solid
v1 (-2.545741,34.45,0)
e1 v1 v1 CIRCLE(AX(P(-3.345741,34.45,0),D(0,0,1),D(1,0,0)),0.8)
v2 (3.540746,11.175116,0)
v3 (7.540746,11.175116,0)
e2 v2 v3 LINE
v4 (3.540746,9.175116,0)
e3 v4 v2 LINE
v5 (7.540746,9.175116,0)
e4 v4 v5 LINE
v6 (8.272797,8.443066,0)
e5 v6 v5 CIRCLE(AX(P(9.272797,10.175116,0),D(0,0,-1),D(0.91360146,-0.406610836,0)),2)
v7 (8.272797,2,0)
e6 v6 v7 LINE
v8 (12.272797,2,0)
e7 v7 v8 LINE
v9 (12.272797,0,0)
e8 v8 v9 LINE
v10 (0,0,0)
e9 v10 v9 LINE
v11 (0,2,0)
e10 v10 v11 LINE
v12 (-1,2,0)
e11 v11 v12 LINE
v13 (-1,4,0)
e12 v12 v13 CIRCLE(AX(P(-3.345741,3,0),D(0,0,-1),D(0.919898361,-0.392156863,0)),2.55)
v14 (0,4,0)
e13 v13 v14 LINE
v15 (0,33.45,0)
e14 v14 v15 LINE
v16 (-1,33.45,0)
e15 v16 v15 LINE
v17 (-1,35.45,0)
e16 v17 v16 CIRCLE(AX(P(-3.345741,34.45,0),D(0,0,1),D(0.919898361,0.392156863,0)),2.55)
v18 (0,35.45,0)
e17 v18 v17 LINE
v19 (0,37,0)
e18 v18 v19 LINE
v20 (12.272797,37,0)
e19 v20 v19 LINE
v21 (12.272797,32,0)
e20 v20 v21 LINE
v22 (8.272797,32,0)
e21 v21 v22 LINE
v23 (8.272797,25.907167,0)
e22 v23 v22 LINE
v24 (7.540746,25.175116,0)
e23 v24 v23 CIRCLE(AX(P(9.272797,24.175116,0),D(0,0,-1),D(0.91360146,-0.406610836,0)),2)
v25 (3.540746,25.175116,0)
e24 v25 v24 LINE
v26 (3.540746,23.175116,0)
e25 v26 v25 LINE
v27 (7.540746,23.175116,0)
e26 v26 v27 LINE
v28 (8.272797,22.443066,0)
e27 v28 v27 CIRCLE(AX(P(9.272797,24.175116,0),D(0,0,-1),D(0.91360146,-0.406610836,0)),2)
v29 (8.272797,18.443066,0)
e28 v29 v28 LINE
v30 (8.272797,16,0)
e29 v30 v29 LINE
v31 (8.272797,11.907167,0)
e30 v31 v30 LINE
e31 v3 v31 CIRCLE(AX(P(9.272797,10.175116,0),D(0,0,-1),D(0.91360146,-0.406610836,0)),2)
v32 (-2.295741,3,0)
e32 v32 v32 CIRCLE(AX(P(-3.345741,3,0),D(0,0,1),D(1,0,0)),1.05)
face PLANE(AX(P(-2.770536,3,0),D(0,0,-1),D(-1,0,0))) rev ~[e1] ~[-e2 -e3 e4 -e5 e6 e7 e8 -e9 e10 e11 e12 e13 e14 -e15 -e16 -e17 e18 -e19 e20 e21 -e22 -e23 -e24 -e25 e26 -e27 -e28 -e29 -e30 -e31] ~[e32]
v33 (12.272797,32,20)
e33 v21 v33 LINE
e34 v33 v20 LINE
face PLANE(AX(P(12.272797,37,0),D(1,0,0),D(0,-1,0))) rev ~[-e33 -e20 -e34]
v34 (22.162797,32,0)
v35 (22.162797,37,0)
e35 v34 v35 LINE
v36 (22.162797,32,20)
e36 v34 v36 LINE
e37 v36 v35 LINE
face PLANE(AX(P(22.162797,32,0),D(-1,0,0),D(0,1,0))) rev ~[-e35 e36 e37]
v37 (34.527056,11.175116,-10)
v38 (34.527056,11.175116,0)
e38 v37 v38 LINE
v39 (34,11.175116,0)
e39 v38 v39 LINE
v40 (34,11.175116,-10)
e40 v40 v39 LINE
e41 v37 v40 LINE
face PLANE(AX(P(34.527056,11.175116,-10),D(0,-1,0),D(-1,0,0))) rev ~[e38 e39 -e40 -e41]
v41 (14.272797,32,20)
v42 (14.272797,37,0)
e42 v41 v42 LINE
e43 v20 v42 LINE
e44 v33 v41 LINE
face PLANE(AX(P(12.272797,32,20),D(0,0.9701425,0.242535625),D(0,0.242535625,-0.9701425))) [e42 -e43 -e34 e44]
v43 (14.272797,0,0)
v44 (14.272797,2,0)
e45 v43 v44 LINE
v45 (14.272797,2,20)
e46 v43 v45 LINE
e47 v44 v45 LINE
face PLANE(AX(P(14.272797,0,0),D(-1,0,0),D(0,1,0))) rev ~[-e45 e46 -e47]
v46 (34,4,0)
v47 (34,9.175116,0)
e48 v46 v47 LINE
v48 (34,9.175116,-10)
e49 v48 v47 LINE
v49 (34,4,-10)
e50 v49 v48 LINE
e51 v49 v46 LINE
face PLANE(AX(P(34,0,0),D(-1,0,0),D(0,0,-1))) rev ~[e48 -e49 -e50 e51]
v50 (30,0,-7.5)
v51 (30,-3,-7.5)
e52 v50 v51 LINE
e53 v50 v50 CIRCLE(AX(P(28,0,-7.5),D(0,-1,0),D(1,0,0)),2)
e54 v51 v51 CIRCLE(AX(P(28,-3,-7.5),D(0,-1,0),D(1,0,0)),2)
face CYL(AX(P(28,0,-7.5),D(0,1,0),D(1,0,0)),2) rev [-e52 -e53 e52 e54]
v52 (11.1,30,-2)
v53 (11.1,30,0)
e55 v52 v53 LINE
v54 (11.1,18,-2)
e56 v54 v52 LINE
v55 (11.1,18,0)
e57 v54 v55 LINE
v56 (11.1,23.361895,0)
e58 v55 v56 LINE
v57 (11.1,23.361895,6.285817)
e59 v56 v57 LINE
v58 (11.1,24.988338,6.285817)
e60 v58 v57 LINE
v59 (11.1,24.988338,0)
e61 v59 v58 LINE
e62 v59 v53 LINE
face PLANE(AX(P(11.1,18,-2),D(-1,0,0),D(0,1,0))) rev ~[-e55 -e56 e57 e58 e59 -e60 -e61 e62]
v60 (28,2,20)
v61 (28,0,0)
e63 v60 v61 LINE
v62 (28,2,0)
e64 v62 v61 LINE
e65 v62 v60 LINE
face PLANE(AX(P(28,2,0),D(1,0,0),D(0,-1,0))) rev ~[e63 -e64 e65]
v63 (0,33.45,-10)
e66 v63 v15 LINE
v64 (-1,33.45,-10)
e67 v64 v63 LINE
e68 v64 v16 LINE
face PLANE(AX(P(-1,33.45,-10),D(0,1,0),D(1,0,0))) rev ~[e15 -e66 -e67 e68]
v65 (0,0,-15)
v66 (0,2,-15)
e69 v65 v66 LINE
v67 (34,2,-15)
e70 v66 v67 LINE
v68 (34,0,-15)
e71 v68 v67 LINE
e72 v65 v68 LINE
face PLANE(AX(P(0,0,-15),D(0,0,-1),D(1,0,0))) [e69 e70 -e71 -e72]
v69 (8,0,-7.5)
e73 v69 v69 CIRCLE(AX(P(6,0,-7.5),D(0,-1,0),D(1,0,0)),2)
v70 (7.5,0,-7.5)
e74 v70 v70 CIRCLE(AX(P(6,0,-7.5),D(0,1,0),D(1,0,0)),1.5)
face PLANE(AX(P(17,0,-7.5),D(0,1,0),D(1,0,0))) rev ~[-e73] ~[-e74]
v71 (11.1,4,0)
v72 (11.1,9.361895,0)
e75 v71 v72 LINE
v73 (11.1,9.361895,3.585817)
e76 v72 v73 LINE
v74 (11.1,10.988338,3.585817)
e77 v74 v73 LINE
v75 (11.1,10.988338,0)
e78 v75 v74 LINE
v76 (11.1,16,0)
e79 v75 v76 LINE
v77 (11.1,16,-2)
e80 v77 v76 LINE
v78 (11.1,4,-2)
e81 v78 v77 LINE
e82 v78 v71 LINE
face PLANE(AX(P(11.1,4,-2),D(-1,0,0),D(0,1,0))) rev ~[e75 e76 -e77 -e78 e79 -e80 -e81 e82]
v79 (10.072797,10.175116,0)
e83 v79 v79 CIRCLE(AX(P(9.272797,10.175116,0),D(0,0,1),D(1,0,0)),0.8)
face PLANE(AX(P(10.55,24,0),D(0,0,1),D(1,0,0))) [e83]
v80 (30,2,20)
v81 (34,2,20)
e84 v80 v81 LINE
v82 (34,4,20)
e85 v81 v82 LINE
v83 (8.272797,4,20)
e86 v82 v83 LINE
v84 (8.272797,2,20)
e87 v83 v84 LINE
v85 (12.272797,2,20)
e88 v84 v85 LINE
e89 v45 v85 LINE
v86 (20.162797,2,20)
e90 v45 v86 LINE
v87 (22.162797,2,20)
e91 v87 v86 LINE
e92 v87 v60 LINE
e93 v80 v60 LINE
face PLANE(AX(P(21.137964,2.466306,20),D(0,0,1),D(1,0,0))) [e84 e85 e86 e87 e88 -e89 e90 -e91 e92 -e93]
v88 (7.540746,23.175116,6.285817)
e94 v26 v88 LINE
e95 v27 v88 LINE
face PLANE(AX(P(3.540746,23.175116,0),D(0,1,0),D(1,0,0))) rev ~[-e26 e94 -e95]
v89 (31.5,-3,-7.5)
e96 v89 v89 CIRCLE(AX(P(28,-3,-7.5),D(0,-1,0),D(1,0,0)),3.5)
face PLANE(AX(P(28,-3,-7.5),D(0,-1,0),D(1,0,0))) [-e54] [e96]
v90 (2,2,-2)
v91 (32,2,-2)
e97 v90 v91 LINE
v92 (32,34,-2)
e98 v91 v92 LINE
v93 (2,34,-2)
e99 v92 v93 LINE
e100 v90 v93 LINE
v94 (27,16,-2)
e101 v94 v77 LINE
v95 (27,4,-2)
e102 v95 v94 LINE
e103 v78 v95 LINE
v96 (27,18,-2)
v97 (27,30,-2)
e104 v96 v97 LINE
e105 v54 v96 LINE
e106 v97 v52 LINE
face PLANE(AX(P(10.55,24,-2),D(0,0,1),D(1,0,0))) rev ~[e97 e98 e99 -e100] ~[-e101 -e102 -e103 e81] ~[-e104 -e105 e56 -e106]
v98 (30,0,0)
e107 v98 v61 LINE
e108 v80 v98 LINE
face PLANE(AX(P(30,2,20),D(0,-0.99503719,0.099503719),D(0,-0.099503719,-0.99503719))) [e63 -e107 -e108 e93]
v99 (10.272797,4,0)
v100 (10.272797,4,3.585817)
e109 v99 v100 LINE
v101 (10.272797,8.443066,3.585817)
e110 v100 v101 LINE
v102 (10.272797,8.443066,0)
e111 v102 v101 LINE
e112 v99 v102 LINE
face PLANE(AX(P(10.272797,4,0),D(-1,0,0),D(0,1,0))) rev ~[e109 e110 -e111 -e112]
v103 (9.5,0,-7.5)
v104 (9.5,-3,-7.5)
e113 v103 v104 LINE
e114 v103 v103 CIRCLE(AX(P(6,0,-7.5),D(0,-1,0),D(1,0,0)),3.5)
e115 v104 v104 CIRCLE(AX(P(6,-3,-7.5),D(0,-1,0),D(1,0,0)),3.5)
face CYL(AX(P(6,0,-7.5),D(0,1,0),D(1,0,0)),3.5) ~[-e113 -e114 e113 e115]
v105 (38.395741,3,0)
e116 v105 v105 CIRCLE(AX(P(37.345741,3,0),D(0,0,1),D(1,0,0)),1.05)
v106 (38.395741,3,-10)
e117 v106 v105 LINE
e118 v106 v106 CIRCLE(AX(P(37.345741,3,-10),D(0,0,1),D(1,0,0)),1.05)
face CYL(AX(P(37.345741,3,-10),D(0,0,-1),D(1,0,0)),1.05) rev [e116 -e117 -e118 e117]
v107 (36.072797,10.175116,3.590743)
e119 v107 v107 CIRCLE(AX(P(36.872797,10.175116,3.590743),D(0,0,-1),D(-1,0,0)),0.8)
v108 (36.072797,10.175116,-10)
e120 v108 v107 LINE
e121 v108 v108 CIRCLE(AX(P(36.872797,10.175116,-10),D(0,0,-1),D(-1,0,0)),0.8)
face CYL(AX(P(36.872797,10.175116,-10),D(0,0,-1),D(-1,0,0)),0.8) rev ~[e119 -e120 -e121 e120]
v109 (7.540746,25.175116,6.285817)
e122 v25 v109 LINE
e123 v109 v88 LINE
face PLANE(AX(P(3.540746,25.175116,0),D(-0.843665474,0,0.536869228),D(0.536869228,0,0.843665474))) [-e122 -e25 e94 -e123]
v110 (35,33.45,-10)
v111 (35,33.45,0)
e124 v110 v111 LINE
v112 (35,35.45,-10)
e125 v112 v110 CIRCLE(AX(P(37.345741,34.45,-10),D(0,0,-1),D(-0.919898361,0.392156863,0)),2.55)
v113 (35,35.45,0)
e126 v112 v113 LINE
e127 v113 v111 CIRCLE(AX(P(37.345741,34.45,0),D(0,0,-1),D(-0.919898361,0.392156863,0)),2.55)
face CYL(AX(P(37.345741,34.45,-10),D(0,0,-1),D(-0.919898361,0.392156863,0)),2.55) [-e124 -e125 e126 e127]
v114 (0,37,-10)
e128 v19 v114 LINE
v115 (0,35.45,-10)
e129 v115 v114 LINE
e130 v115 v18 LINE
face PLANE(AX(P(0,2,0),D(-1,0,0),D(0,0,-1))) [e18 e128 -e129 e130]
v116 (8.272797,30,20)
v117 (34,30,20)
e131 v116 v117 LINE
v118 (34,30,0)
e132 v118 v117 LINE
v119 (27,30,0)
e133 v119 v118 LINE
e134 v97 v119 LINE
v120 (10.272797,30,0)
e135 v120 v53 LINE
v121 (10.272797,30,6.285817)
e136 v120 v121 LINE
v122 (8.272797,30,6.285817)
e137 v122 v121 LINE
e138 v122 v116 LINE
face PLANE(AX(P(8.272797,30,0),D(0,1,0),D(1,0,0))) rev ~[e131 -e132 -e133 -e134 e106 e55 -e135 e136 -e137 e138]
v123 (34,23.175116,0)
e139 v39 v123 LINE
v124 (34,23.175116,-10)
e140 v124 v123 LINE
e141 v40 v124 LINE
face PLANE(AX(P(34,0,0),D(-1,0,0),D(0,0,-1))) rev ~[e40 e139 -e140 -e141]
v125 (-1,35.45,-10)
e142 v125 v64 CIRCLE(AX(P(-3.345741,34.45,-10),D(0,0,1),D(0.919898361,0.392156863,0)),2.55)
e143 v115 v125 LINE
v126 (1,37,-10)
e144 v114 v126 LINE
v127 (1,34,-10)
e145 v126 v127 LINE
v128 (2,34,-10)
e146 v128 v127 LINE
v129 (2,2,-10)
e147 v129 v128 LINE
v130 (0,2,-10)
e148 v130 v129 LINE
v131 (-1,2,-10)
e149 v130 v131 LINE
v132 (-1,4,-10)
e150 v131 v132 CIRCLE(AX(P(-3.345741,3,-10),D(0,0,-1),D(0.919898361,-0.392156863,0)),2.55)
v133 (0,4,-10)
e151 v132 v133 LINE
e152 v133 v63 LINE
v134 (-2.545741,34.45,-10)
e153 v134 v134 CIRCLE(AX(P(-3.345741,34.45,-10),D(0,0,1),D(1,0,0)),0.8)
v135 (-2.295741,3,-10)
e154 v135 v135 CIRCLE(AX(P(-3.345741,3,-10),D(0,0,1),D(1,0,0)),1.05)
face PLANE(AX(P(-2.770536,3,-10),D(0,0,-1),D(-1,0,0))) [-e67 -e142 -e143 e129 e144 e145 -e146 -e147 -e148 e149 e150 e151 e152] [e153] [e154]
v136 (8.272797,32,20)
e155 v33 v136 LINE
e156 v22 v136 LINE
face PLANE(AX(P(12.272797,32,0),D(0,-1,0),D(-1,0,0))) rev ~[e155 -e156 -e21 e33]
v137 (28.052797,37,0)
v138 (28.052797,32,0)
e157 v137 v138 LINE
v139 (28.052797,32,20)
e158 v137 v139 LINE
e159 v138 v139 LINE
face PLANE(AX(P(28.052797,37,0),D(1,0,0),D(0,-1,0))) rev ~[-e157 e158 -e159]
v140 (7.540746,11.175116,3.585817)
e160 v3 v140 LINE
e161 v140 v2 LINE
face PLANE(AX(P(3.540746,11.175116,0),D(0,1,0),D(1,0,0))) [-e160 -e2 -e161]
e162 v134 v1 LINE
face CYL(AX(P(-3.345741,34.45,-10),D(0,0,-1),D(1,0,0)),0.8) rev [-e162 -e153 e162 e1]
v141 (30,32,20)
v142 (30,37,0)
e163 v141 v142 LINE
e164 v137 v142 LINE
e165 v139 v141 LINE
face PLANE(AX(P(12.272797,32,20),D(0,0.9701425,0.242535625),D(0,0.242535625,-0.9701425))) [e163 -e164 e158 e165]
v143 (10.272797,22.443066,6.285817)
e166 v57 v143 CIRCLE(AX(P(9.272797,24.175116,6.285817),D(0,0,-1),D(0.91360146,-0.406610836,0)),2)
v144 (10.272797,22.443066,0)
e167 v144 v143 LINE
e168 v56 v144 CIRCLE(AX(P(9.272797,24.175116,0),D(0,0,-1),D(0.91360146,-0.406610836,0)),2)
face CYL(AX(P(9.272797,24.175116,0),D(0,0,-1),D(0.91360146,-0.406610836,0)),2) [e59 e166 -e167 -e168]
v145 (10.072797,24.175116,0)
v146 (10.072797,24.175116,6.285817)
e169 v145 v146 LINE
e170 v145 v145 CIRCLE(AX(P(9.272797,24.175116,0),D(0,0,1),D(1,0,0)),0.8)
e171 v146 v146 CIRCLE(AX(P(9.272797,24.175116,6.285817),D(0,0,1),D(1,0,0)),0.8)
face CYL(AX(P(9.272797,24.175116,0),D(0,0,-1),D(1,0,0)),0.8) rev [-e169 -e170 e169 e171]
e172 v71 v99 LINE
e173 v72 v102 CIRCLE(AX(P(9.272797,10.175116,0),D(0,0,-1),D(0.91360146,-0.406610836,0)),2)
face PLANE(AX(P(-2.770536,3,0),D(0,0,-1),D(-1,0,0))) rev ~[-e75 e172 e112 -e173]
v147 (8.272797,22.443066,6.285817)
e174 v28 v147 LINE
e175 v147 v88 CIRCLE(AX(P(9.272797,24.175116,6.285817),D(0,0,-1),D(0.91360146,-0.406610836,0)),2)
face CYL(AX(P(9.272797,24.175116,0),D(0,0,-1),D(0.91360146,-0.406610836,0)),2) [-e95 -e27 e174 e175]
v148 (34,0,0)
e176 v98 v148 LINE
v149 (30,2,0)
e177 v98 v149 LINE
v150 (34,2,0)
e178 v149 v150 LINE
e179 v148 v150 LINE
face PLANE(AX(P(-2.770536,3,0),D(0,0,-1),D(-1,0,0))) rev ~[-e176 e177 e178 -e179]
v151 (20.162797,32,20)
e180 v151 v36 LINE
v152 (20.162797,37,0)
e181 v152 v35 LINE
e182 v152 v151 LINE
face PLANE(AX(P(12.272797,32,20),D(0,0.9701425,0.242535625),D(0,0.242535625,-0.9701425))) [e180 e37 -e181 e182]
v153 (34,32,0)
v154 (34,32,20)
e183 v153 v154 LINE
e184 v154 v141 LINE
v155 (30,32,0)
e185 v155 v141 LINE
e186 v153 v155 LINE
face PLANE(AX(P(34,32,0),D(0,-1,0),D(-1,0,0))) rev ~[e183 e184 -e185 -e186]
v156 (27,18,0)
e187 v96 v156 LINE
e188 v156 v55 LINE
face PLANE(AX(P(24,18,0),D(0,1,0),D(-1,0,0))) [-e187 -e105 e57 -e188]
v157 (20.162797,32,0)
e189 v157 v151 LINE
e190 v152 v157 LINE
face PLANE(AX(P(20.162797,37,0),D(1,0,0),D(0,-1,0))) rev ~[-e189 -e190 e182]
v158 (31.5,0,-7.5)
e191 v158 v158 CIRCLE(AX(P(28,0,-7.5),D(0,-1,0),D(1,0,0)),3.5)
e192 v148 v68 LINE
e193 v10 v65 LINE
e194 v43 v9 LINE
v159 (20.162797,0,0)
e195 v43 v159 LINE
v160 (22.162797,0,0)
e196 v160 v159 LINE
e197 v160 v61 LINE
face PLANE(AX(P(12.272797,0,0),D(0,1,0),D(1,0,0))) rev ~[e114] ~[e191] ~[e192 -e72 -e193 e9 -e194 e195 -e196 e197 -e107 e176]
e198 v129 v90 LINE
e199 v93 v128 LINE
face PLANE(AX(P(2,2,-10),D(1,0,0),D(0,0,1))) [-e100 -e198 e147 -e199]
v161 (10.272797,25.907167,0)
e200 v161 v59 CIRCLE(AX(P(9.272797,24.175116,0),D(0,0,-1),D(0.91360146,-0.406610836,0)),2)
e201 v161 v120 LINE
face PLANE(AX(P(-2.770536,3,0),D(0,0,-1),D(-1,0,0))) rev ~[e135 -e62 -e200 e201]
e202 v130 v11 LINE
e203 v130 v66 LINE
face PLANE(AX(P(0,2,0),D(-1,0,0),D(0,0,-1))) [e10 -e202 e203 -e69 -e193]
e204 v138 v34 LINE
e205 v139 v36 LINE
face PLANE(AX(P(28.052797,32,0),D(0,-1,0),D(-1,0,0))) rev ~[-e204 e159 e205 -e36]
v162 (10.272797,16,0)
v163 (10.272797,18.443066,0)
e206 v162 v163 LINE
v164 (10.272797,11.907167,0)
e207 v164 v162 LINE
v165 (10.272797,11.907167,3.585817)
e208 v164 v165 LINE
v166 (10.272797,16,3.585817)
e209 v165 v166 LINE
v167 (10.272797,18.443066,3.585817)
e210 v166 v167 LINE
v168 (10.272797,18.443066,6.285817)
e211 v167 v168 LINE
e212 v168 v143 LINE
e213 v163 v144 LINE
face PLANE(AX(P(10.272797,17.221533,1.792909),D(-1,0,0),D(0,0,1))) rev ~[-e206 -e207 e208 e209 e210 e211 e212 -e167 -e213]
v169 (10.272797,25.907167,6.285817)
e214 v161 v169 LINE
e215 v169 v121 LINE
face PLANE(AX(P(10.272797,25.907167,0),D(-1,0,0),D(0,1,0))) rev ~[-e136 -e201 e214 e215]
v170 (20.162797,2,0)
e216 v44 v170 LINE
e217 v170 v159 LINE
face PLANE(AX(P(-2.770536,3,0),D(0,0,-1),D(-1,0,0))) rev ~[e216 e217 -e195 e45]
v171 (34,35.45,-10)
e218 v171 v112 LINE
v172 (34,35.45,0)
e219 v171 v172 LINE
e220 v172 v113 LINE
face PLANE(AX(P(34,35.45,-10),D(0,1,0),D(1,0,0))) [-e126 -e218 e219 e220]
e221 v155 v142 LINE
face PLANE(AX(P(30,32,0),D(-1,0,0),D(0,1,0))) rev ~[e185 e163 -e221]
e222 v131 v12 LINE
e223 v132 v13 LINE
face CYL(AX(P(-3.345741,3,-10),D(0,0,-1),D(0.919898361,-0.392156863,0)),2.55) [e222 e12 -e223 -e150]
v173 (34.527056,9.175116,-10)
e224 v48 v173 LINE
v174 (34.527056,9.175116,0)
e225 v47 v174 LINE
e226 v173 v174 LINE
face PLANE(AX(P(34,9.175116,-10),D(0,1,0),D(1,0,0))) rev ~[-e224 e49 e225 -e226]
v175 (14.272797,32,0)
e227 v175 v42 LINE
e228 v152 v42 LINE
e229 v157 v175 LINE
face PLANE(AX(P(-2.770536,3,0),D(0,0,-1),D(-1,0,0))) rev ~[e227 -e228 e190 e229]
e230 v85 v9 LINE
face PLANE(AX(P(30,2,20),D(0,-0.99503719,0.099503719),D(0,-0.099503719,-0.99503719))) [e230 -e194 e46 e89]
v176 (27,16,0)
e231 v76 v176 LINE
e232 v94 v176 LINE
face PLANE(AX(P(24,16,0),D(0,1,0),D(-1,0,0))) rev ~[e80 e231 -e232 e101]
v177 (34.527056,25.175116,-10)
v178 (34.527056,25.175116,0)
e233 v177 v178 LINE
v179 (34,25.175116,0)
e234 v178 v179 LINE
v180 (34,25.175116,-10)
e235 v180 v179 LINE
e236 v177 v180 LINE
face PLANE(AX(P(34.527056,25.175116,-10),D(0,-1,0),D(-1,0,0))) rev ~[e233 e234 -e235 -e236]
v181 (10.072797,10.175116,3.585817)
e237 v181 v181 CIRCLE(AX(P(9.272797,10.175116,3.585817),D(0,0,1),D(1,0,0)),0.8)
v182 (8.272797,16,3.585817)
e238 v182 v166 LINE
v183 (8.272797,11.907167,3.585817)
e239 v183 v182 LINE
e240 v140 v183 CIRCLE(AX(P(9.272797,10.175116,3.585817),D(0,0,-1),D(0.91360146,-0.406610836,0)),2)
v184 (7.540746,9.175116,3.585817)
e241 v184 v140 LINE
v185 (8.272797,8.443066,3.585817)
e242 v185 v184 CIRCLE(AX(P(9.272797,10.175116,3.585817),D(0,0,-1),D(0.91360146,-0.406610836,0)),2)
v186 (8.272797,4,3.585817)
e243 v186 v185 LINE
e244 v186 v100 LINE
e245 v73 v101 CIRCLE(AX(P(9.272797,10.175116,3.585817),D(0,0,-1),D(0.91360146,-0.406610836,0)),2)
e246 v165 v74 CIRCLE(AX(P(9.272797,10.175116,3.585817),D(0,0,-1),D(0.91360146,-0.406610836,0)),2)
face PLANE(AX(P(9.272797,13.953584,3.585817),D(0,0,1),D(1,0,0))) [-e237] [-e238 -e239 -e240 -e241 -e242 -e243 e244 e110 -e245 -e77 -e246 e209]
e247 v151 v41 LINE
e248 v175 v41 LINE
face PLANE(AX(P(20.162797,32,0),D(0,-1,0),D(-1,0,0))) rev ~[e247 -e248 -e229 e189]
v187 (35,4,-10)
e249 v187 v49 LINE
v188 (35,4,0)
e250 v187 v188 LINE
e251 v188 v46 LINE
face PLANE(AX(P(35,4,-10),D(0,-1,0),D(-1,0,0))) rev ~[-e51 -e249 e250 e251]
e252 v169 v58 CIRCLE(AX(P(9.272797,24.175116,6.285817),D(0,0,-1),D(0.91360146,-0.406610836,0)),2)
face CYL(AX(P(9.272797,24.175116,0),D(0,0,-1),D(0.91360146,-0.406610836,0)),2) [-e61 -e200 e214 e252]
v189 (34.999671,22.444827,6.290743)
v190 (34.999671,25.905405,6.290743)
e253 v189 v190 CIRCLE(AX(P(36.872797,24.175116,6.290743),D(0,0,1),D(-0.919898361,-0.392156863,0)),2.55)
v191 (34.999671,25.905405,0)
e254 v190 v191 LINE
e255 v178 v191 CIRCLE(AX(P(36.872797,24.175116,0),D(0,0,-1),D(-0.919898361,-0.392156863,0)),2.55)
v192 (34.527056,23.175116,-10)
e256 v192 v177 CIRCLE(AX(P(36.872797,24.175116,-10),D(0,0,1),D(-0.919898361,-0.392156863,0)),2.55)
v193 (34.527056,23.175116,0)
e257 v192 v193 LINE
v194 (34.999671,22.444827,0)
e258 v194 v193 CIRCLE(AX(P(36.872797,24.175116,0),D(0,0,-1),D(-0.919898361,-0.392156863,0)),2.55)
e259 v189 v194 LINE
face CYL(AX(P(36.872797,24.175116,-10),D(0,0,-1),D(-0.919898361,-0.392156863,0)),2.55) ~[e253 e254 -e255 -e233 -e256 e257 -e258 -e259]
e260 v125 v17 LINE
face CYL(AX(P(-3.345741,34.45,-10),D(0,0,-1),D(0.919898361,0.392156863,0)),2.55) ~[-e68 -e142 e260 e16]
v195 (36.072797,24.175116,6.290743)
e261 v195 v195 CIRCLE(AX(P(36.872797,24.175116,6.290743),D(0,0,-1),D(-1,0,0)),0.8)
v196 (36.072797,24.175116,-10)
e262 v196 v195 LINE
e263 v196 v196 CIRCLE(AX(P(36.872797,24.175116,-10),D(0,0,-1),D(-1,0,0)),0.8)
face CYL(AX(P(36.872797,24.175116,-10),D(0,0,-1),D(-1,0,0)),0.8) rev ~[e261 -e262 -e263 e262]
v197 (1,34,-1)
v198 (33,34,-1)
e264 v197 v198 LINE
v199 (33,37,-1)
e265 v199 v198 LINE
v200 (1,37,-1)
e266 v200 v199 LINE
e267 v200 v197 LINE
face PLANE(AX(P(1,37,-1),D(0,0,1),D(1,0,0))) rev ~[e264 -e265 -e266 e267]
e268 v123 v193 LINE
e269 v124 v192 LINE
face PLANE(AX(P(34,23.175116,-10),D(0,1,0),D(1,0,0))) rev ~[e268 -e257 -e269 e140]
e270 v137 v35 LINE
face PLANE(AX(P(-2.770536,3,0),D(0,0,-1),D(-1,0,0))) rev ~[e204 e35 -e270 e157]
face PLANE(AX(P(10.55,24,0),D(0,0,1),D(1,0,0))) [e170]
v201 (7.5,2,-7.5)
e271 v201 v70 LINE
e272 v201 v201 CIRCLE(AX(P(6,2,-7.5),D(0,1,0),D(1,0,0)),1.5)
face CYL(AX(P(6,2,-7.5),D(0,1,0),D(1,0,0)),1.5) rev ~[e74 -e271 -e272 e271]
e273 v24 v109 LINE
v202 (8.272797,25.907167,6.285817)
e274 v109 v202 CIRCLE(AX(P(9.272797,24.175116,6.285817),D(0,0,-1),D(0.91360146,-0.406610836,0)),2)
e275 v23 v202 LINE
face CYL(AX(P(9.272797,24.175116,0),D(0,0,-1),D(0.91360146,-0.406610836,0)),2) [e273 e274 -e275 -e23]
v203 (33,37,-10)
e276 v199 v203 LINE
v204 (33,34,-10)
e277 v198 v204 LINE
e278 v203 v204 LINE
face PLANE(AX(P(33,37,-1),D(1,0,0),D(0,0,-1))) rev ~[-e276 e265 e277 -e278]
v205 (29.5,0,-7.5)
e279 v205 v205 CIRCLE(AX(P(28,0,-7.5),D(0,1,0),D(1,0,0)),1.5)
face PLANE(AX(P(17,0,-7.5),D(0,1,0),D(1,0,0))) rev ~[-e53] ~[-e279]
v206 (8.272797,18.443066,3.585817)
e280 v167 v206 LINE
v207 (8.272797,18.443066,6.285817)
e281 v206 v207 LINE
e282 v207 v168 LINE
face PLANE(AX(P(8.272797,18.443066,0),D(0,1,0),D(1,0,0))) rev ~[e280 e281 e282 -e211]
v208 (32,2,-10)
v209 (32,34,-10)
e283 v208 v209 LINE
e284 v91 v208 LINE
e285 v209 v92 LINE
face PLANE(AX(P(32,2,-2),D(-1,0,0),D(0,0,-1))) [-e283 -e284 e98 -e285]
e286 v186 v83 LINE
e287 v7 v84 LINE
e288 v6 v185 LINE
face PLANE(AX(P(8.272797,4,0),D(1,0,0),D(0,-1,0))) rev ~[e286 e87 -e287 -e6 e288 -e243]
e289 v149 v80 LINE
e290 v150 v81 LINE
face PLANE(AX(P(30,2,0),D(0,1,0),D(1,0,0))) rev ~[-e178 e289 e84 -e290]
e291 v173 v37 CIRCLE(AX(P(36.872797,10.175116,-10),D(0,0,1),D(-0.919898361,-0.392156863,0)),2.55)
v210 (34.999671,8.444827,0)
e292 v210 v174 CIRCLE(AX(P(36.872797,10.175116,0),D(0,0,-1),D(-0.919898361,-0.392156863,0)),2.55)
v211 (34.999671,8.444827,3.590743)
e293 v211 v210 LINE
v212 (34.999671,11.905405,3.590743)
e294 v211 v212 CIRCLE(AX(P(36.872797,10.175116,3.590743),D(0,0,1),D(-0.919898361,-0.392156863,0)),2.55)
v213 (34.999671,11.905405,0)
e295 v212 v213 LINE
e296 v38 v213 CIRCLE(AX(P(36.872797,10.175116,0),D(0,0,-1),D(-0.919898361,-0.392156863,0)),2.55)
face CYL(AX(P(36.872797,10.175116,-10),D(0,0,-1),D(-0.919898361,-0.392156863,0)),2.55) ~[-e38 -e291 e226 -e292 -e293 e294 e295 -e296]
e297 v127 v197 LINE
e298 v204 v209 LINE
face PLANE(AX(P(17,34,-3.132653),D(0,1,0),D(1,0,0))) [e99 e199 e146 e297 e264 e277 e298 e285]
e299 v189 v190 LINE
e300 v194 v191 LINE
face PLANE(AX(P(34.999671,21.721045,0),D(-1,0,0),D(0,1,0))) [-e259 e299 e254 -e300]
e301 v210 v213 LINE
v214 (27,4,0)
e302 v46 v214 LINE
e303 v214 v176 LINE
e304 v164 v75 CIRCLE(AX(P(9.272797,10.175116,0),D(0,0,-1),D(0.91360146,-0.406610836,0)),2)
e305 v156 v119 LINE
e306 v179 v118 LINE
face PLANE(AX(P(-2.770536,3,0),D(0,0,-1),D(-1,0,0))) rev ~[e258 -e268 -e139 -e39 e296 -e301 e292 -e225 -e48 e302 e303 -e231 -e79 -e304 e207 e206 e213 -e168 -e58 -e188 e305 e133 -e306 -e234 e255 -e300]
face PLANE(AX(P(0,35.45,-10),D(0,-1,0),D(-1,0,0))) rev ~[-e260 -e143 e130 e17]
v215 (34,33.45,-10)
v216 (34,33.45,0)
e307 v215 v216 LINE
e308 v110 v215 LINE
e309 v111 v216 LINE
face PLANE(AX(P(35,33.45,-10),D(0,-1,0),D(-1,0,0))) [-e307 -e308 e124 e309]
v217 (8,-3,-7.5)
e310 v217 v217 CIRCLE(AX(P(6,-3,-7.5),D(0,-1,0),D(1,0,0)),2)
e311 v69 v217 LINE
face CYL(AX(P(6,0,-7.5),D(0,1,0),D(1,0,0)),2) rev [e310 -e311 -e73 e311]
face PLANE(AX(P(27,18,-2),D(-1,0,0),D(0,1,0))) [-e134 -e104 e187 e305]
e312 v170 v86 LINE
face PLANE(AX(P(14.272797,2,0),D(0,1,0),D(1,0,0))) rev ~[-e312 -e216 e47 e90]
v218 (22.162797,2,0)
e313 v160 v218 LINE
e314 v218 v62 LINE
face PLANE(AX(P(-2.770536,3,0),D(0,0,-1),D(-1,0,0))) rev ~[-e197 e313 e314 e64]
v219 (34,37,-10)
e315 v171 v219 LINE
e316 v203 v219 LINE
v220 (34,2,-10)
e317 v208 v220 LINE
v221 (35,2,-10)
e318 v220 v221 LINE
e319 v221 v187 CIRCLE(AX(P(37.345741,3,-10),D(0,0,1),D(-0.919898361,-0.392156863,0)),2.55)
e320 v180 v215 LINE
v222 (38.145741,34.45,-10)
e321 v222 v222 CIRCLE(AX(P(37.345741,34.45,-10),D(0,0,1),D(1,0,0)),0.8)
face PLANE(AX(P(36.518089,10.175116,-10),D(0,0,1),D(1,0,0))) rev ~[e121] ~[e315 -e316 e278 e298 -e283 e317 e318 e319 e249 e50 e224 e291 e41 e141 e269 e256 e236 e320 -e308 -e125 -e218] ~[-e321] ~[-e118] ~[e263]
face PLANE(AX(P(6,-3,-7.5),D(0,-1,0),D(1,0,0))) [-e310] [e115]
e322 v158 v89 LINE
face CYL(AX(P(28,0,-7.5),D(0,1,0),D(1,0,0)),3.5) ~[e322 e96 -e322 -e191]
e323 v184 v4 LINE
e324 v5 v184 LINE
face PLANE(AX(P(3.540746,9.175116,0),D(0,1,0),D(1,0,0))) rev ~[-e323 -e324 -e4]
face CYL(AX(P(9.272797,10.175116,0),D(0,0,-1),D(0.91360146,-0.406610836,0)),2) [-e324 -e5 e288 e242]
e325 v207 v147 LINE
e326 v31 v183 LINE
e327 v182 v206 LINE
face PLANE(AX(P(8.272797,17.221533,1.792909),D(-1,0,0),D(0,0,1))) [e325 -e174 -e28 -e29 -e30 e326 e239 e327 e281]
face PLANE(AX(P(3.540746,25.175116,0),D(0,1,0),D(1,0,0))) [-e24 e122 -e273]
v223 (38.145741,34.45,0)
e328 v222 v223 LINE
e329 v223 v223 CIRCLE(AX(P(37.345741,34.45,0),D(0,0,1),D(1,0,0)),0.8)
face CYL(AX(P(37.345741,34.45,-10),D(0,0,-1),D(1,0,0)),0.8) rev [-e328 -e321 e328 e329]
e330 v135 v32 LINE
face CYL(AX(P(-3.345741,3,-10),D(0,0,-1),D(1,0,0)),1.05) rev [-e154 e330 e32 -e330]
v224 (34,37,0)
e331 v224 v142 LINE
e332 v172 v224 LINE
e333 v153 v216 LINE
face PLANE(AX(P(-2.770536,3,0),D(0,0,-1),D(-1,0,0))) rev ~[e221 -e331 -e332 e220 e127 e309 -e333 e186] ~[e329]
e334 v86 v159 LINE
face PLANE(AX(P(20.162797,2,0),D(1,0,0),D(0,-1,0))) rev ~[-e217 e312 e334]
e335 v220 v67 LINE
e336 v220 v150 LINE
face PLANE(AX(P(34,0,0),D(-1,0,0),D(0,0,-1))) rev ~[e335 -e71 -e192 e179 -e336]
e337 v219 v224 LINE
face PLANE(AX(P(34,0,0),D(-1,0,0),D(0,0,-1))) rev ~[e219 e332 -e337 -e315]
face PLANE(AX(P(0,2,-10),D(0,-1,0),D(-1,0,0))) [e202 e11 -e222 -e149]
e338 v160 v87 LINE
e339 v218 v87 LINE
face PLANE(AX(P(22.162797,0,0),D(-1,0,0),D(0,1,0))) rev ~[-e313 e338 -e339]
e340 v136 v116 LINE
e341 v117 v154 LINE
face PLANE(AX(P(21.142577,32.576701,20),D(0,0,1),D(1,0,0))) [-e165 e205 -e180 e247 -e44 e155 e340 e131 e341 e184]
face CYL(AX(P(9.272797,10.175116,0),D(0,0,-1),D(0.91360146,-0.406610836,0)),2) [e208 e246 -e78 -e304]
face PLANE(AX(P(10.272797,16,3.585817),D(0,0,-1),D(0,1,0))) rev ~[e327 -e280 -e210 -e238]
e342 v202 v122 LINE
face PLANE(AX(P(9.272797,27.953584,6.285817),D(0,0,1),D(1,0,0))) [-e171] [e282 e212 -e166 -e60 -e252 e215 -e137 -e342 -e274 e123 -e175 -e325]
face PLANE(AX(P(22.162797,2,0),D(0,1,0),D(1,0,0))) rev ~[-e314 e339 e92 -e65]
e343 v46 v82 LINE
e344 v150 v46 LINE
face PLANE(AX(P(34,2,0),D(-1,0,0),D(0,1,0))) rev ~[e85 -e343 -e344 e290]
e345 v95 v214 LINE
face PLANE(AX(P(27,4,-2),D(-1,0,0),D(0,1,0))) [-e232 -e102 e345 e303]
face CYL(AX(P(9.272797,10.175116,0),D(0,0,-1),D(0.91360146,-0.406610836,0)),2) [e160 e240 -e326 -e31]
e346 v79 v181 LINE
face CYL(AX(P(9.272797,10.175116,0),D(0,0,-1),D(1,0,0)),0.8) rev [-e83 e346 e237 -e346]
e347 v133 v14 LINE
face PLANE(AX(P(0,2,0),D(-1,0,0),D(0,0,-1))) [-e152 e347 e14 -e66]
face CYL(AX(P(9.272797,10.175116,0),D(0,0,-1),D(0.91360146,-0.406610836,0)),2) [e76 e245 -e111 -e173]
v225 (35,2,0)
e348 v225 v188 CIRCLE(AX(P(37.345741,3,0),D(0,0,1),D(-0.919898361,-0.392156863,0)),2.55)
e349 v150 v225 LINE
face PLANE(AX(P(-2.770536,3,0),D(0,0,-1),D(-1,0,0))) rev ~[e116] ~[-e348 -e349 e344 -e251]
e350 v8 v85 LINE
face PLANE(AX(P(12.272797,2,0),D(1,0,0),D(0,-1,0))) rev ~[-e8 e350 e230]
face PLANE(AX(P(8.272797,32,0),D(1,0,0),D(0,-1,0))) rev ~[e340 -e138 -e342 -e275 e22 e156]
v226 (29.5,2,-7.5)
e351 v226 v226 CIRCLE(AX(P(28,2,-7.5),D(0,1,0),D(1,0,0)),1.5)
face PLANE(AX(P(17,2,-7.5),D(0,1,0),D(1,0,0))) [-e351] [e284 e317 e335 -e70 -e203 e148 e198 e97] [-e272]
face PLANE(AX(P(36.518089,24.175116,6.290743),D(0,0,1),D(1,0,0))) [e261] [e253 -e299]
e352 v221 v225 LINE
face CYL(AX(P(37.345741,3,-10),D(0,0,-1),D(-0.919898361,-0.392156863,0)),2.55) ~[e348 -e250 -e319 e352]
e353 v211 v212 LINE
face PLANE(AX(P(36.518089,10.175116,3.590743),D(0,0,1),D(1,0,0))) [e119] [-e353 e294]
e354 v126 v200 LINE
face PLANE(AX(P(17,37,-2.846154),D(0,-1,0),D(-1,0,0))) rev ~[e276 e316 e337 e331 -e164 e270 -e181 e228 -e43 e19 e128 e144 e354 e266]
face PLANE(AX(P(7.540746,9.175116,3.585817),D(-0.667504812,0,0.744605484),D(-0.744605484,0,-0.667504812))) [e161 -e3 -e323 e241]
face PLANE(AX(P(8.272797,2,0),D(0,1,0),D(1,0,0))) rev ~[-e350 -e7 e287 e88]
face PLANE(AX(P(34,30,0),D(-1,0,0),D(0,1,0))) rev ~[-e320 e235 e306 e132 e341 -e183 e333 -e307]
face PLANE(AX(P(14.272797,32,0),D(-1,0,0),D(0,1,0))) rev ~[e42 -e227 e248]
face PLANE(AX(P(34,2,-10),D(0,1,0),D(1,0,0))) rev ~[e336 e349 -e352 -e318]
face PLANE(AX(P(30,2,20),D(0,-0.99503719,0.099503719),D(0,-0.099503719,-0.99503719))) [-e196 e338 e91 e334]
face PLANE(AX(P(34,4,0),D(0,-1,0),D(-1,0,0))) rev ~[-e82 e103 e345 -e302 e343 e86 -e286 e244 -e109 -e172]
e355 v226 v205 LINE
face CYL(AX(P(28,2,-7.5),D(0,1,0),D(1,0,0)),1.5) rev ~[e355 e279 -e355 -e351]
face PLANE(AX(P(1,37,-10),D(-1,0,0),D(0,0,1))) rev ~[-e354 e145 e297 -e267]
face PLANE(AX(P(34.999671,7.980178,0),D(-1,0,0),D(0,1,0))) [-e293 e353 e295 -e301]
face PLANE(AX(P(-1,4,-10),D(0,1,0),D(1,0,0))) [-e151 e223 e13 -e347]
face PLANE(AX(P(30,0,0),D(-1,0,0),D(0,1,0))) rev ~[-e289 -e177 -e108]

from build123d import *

# Parameters (mm, degrees)
ESQUISSE1_W              = 34
ESQUISSE1_H              = 15
BOSS_EXTRU_1_DEPTH       = 2
ESQUISSE2_R              = 1.5
ENL_V_MAT_EXTRU_1_DEPTH  = 2
BOSS_EXTRU_2_DEPTH       = 35
ENL_V_MAT_EXTRU_2_DEPTH  = 3
ESQUISSE5_R              = 3.5
ESQUISSE5_R_2            = 2
BOSS_EXTRU_3_DEPTH       = 3
ENL_V_START              = -2
ESQUISSE6_W              = 14
ESQUISSE6_H              = 12
ENL_V_MAT_EXTRU_3_DEPTH  = 2
ESQUISSE7_W              = 14
ESQUISSE7_H              = 12
ENL_V_MAT_EXTRU_4_DEPTH  = 2
ESQUISSE8_W              = 3
ESQUISSE8_H              = 12
ENL_V_MAT_EXTRU_5_DEPTH  = 2
BOSS_EXTRU_4_START       = -2
ESQUISSE9_W              = 1.1
ESQUISSE9_H              = 12
BOSS_EXTRU_4_DEPTH       = 2
ESQUISSE10_R             = 0.8
BOSS_EXTRU_5_DEPTH       = 6.285817
ESQUISSE11_R             = 0.8
BOSS_EXTRU_6_DEPTH       = 3.585817
ESQUISSE21_W             = 4
ESQUISSE21_H             = 2
BOSS_EXTRU_12_DEPTH      = 6.285817
ENL_V_MAT_EXTRU_9_DEPTH  = 2
ESQUISSE23_W             = 4
ESQUISSE23_H             = 2
BOSS_EXTRU_13_DEPTH      = 3.585817
ENL_V_MAT_EXTRU_10_DEPTH = 2
ESQUISSE25_W             = 2
ESQUISSE25_H             = 4.092832792
ESQUISSE25_H_2           = 4.443065592
BOSS_EXTRU_14_DEPTH      = 3.585817
ESQUISSE27_W             = 2
ESQUISSE27_H             = 4.092832792
ESQUISSE27_H_2           = 4
BOSS_EXTRU_15_DEPTH      = 6.285817
BOSS_EXTRU_17_START      = -10
ESQUISSE31_R             = 1.05
BOSS_EXTRU_17_DEPTH      = 10
BOSS_EXTRU_18_START      = -10
ESQUISSE33_R             = 0.8
BOSS_EXTRU_18_DEPTH      = 10
ESQUISSE34_R             = 0.8
BOSS_EXTRU_19_DEPTH      = 16.290743
ESQUISSE35_R             = 0.8
BOSS_EXTRU_20_DEPTH      = 13.590743
BOSS_EXTRU_21_DEPTH      = 20
ENL_V_START_2            = -17.727203
ENL_V_MAT_EXTRU_14_DEPTH = 17.727203
BOSS_EXTRU_23_START      = -2
ESQUISSE39_W             = 3.585817331
ESQUISSE39_H             = 2.443065592
BOSS_EXTRU_23_DEPTH      = 2
ENL_V_START_3            = -6.290743
ESQUISSE40_W             = 1.637082072
ESQUISSE40_H             = 4.811547665
ENL_V_MAT_EXTRU_15_DEPTH = 6.290743
ENL_V_START_4            = -3.590743
ESQUISSE41_W             = 1.862657742
ESQUISSE41_H             = 4.792301475
ENL_V_MAT_EXTRU_16_DEPTH = 3.590743
BOSS_EXTRU_24_DEPTH      = 20
ENL_V_MAT_EXTRU_17_DEPTH = 17.727203


with BuildPart() as part:
    # Esquisse1 → Boss.-Extru.1 (new body)
    with BuildSketch(Plane(origin=(0, 0, 0), x_dir=(1, 0, 0), z_dir=(0, 1, 0))):
        with Locations((17, 7.5)):
            Rectangle(ESQUISSE1_W, ESQUISSE1_H)
    extrude(amount=BOSS_EXTRU_1_DEPTH)

    # Esquisse2 → Enl_v. mat.-Extru.1 (cut)
    with BuildSketch(Plane(origin=(0, 2, 0), x_dir=(1, 0, 0), z_dir=(0, 1, 0))):
        with Locations((6, 7.5)):
            Circle(ESQUISSE2_R)
        with Locations((28, 7.5)):
            Circle(ESQUISSE2_R)
    extrude(amount=-ENL_V_MAT_EXTRU_1_DEPTH, mode=Mode.SUBTRACT)

    # Esquisse3 → Boss.-Extru.2 (add)
    with BuildSketch(Plane(origin=(0, 2, 0), x_dir=(1, 0, 0), z_dir=(0, 1, 0))):
        Polygon((0, 10), (2, 10), (2, 2), (32, 2), (32, 10), (34, 10), (34, 0), (0, 0), align=None)
    extrude(amount=BOSS_EXTRU_2_DEPTH)

    # Esquisse4 → Enl_v. mat.-Extru.2 (cut)
    with BuildSketch(Plane(origin=(0, 37, 0), x_dir=(1, 0, 0), z_dir=(0, 1, 0))):
        Polygon((2, 10), (1, 10), (1, 1), (33, 1), (33, 10), (32, 10), (32, 2), (2, 2), align=None)
    extrude(amount=-ENL_V_MAT_EXTRU_2_DEPTH, mode=Mode.SUBTRACT)

    # Esquisse5 → Boss.-Extru.3 (add)
    with BuildSketch(Plane.XZ):
        with Locations((6, -7.5)):
            Circle(ESQUISSE5_R)
        with Locations((6, -7.5)):
            Circle(ESQUISSE5_R_2, mode=Mode.SUBTRACT)
        with Locations((28, -7.5)):
            Circle(ESQUISSE5_R)
        with Locations((28, -7.5)):
            Circle(ESQUISSE5_R_2, mode=Mode.SUBTRACT)
    extrude(amount=BOSS_EXTRU_3_DEPTH)

    # Esquisse6 → Enl_v. mat.-Extru.3 (cut)
    with BuildSketch(Plane(origin=(0, 0, -2), x_dir=(-1, 0, 0), z_dir=(0, 0, -1)).offset(ENL_V_START)):
        with Locations((-17, 24)):
            Rectangle(ESQUISSE6_W, ESQUISSE6_H)
    extrude(amount=ENL_V_MAT_EXTRU_3_DEPTH, mode=Mode.SUBTRACT)

    # Esquisse7 → Enl_v. mat.-Extru.4 (cut)
    with BuildSketch(Plane(origin=(0, 0, -2), x_dir=(-1, 0, 0), z_dir=(0, 0, -1)).offset(ENL_V_START)):
        with Locations((-17, 10)):
            Rectangle(ESQUISSE7_W, ESQUISSE7_H)
    extrude(amount=ENL_V_MAT_EXTRU_4_DEPTH, mode=Mode.SUBTRACT)

    # Esquisse8 → Enl_v. mat.-Extru.5 (cut)
    with BuildSketch(Plane.XY.offset(ENL_V_START)):
        with Locations((25.5, 10)):
            Rectangle(ESQUISSE8_W, ESQUISSE8_H)
        with Locations((25.5, 24)):
            Rectangle(ESQUISSE8_W, ESQUISSE8_H)
    extrude(amount=ENL_V_MAT_EXTRU_5_DEPTH, mode=Mode.SUBTRACT)

    # Esquisse9 → Boss.-Extru.4 (add)
    with BuildSketch(Plane.XY.offset(BOSS_EXTRU_4_START)):
        with Locations((10.55, 24)):
            Rectangle(ESQUISSE9_W, ESQUISSE9_H)
        with Locations((10.55, 10)):
            Rectangle(ESQUISSE9_W, ESQUISSE9_H)
    extrude(amount=BOSS_EXTRU_4_DEPTH)

    # Esquisse10 → Boss.-Extru.5 (add)
    with BuildSketch(Plane.XY):
        with BuildLine():
            Line((11.1, 24.988338073), (11.1, 23.361894727))
            ThreePointArc((11.1, 23.361894727), (7.27279708, 24.1751164), (11.1, 24.988338073))
        make_face()
        with Locations((9.27279708, 24.1751164)):
            Circle(ESQUISSE10_R, mode=Mode.SUBTRACT)
    extrude(amount=BOSS_EXTRU_5_DEPTH)

    # Esquisse11 → Boss.-Extru.6 (add)
    with BuildSketch(Plane.XY):
        with BuildLine():
            Line((11.1, 10.988338073), (11.1, 9.361894727))
            ThreePointArc((11.1, 9.361894727), (7.27279708, 10.1751164), (11.1, 10.988338073))
        make_face()
        with Locations((9.27279708, 10.1751164)):
            Circle(ESQUISSE11_R, mode=Mode.SUBTRACT)
    extrude(amount=BOSS_EXTRU_6_DEPTH)

    # Esquisse21 → Boss.-Extru.12 (add)
    with BuildSketch(Plane.XY):
        with Locations((5.540746272, 24.1751164)):
            Rectangle(ESQUISSE21_W, ESQUISSE21_H)
    extrude(amount=BOSS_EXTRU_12_DEPTH)

    # Esquisse22 → Enl_v. mat.-Extru.9 (cut)
    with BuildSketch(Plane(origin=(0, 25.1751164, 0), x_dir=(1, 0, 0), z_dir=(0, 1, 0))):
        Polygon((3.540746272, 0), (7.540746272, -6.285817331), (3.540746272, -6.285817331), align=None)
    extrude(amount=-ENL_V_MAT_EXTRU_9_DEPTH, mode=Mode.SUBTRACT)

    # Esquisse23 → Boss.-Extru.13 (add)
    with BuildSketch(Plane.XY):
        with Locations((5.540746272, 10.1751164)):
            Rectangle(ESQUISSE23_W, ESQUISSE23_H)
    extrude(amount=BOSS_EXTRU_13_DEPTH)

    # Esquisse24 → Enl_v. mat.-Extru.10 (cut)
    with BuildSketch(Plane.XZ.offset(-9.1751164)):
        Polygon((7.540746272, 3.585817331), (3.540746272, 0), (3.540746272, 3.585817331), align=None)
    extrude(amount=-ENL_V_MAT_EXTRU_10_DEPTH, mode=Mode.SUBTRACT)

    # Esquisse25 → Boss.-Extru.14 (add)
    with BuildSketch(Plane.XY):
        with Locations((9.27279708, 13.953583604)):
            Rectangle(ESQUISSE25_W, ESQUISSE25_H)
        with Locations((9.27279708, 6.221532796)):
            Rectangle(ESQUISSE25_W, ESQUISSE25_H_2)
    extrude(amount=BOSS_EXTRU_14_DEPTH)

    # Esquisse27 → Boss.-Extru.15 (add)
    with BuildSketch(Plane.XY):
        with Locations((9.27279708, 27.953583604)):
            Rectangle(ESQUISSE27_W, ESQUISSE27_H)
        with Locations((9.27279708, 20.443065592)):
            Rectangle(ESQUISSE27_W, ESQUISSE27_H_2)
    extrude(amount=BOSS_EXTRU_15_DEPTH)

    # Esquisse31 → Boss.-Extru.17 (add)
    with BuildSketch(Plane.XY.offset(BOSS_EXTRU_17_START)):
        with BuildLine():
            Line((-1, 4), (0, 4))
            Line((0, 4), (0, 2))
            Line((0, 2), (-1, 2))
            ThreePointArc((-1, 2), (-5.895740821, 3), (-1, 4))
        make_face()
        with Locations((-3.345740821, 3)):
            Circle(ESQUISSE31_R, mode=Mode.SUBTRACT)
        with BuildLine():
            Line((34, 4), (34, 2))
            Line((34, 2), (35, 2))
            ThreePointArc((35, 2), (39.895740821, 3), (35, 4))
            Line((35, 4), (34, 4))
        make_face()
        with Locations((37.345740821, 3)):
            Circle(ESQUISSE31_R, mode=Mode.SUBTRACT)
    extrude(amount=BOSS_EXTRU_17_DEPTH)

    # Esquisse33 → Boss.-Extru.18 (add)
    with BuildSketch(Plane.XY.offset(BOSS_EXTRU_18_START)):
        with BuildLine():
            Line((35, 33.45), (34, 33.45))
            Line((34, 33.45), (34, 35.45))
            Line((34, 35.45), (35, 35.45))
            ThreePointArc((35, 35.45), (39.895740821, 34.45), (35, 33.45))
        make_face()
        with Locations((37.345740821, 34.45)):
            Circle(ESQUISSE33_R, mode=Mode.SUBTRACT)
        with BuildLine():
            Line((0, 33.45), (0, 35.45))
            Line((0, 35.45), (-1, 35.45))
            ThreePointArc((-1, 35.45), (-5.895740821, 34.45), (-1, 33.45))
            Line((-1, 33.45), (0, 33.45))
        make_face()
        with Locations((-3.345740821, 34.45)):
            Circle(ESQUISSE33_R, mode=Mode.SUBTRACT)
    extrude(amount=BOSS_EXTRU_18_DEPTH)

    # Esquisse34 → Boss.-Extru.19 (add)
    with BuildSketch(Plane(origin=(0, 0, -10), x_dir=(-1, 0, 0), z_dir=(0, 0, -1))):
        with BuildLine():
            Line((-34.527056259, 25.1751164), (-34, 25.1751164))
            Line((-34, 25.1751164), (-34, 23.1751164))
            Line((-34, 23.1751164), (-34.527056259, 23.1751164))
            ThreePointArc((-34.527056259, 23.1751164), (-39.42279708, 24.1751164), (-34.527056259, 25.1751164))
        make_face()
        with Locations((-36.87279708, 24.1751164)):
            Circle(ESQUISSE34_R, mode=Mode.SUBTRACT)
    extrude(amount=-BOSS_EXTRU_19_DEPTH)

    # Esquisse35 → Boss.-Extru.20 (add)
    with BuildSketch(Plane(origin=(0, 0, -10), x_dir=(-1, 0, 0), z_dir=(0, 0, -1))):
        with BuildLine():
            Line((-34.527056259, 11.1751164), (-34, 11.1751164))
            Line((-34, 11.1751164), (-34, 9.1751164))
            Line((-34, 9.1751164), (-34.527056259, 9.1751164))
            ThreePointArc((-34.527056259, 9.1751164), (-39.42279708, 10.1751164), (-34.527056259, 11.1751164))
        make_face()
        with Locations((-36.87279708, 10.1751164)):
            Circle(ESQUISSE35_R, mode=Mode.SUBTRACT)
    extrude(amount=-BOSS_EXTRU_20_DEPTH)

    # Esquisse36 → Boss.-Extru.21 (add)
    with BuildSketch(Plane.XY):
        Polygon((8.27279708, 30), (34, 30), (34, 32), (30, 32), (30, 37), (28.05279708, 37), (28.05279708, 32), (22.16279708, 32), (22.16279708, 37), (20.16279708, 37), (20.16279708, 32), (14.27279708, 32), (14.27279708, 37), (12.27279708, 37), (12.27279708, 32), (8.27279708, 32), align=None)
    extrude(amount=BOSS_EXTRU_21_DEPTH)

    # Esquisse37 → Enl_v. mat.-Extru.14 (cut)
    with BuildSketch(Plane(origin=(30, 0, 0), x_dir=(0, 0, -1), z_dir=(1, 0, 0)).offset(ENL_V_START_2)):
        Polygon((-20, 32), (0, 37), (-20, 37), align=None)
    extrude(amount=ENL_V_MAT_EXTRU_14_DEPTH, mode=Mode.SUBTRACT)

    # Esquisse39 → Boss.-Extru.23 (add)
    with BuildSketch(Plane.ZY.offset(-8.27279708).offset(BOSS_EXTRU_23_START)):
        with Locations((1.792908666, 17.221532796)):
            Rectangle(ESQUISSE39_W, ESQUISSE39_H)
    extrude(amount=BOSS_EXTRU_23_DEPTH)

    # Esquisse40 → Enl_v. mat.-Extru.15 (cut)
    with BuildSketch(Plane.XY.offset(6.290743087).offset(ENL_V_START_3)):
        with Locations((34.181130377, 24.126818711)):
            Rectangle(ESQUISSE40_W, ESQUISSE40_H)
    extrude(amount=ENL_V_MAT_EXTRU_15_DEPTH, mode=Mode.SUBTRACT)

    # Esquisse41 → Enl_v. mat.-Extru.16 (cut)
    with BuildSketch(Plane.XY.offset(3.590743087).offset(ENL_V_START_4)):
        with Locations((34.068342542, 10.376328553)):
            Rectangle(ESQUISSE41_W, ESQUISSE41_H)
    extrude(amount=ENL_V_MAT_EXTRU_16_DEPTH, mode=Mode.SUBTRACT)

    # Esquisse43 → Boss.-Extru.24 (add)
    with BuildSketch(Plane.XY):
        Polygon((14.27279708, 2), (20.16279708, 2), (20.16279708, 0), (22.16279708, 0), (22.16279708, 2), (28, 2), (28, 0), (30, 0), (30, 2), (34, 2), (34, 4), (8.27279708, 4), (8.27279708, 2), (12.27279708, 2), (12.27279708, 0), (14.27279708, 0), align=None)
    extrude(amount=BOSS_EXTRU_24_DEPTH)

    # Esquisse44 → Enl_v. mat.-Extru.17 (cut)
    with BuildSketch(Plane.ZY.offset(-12.27279708).offset(ENL_V_START_2)):
        Polygon((20, 2), (0, 0), (20, 0), align=None)
    extrude(amount=ENL_V_MAT_EXTRU_17_DEPTH, mode=Mode.SUBTRACT)


solid = part.part
